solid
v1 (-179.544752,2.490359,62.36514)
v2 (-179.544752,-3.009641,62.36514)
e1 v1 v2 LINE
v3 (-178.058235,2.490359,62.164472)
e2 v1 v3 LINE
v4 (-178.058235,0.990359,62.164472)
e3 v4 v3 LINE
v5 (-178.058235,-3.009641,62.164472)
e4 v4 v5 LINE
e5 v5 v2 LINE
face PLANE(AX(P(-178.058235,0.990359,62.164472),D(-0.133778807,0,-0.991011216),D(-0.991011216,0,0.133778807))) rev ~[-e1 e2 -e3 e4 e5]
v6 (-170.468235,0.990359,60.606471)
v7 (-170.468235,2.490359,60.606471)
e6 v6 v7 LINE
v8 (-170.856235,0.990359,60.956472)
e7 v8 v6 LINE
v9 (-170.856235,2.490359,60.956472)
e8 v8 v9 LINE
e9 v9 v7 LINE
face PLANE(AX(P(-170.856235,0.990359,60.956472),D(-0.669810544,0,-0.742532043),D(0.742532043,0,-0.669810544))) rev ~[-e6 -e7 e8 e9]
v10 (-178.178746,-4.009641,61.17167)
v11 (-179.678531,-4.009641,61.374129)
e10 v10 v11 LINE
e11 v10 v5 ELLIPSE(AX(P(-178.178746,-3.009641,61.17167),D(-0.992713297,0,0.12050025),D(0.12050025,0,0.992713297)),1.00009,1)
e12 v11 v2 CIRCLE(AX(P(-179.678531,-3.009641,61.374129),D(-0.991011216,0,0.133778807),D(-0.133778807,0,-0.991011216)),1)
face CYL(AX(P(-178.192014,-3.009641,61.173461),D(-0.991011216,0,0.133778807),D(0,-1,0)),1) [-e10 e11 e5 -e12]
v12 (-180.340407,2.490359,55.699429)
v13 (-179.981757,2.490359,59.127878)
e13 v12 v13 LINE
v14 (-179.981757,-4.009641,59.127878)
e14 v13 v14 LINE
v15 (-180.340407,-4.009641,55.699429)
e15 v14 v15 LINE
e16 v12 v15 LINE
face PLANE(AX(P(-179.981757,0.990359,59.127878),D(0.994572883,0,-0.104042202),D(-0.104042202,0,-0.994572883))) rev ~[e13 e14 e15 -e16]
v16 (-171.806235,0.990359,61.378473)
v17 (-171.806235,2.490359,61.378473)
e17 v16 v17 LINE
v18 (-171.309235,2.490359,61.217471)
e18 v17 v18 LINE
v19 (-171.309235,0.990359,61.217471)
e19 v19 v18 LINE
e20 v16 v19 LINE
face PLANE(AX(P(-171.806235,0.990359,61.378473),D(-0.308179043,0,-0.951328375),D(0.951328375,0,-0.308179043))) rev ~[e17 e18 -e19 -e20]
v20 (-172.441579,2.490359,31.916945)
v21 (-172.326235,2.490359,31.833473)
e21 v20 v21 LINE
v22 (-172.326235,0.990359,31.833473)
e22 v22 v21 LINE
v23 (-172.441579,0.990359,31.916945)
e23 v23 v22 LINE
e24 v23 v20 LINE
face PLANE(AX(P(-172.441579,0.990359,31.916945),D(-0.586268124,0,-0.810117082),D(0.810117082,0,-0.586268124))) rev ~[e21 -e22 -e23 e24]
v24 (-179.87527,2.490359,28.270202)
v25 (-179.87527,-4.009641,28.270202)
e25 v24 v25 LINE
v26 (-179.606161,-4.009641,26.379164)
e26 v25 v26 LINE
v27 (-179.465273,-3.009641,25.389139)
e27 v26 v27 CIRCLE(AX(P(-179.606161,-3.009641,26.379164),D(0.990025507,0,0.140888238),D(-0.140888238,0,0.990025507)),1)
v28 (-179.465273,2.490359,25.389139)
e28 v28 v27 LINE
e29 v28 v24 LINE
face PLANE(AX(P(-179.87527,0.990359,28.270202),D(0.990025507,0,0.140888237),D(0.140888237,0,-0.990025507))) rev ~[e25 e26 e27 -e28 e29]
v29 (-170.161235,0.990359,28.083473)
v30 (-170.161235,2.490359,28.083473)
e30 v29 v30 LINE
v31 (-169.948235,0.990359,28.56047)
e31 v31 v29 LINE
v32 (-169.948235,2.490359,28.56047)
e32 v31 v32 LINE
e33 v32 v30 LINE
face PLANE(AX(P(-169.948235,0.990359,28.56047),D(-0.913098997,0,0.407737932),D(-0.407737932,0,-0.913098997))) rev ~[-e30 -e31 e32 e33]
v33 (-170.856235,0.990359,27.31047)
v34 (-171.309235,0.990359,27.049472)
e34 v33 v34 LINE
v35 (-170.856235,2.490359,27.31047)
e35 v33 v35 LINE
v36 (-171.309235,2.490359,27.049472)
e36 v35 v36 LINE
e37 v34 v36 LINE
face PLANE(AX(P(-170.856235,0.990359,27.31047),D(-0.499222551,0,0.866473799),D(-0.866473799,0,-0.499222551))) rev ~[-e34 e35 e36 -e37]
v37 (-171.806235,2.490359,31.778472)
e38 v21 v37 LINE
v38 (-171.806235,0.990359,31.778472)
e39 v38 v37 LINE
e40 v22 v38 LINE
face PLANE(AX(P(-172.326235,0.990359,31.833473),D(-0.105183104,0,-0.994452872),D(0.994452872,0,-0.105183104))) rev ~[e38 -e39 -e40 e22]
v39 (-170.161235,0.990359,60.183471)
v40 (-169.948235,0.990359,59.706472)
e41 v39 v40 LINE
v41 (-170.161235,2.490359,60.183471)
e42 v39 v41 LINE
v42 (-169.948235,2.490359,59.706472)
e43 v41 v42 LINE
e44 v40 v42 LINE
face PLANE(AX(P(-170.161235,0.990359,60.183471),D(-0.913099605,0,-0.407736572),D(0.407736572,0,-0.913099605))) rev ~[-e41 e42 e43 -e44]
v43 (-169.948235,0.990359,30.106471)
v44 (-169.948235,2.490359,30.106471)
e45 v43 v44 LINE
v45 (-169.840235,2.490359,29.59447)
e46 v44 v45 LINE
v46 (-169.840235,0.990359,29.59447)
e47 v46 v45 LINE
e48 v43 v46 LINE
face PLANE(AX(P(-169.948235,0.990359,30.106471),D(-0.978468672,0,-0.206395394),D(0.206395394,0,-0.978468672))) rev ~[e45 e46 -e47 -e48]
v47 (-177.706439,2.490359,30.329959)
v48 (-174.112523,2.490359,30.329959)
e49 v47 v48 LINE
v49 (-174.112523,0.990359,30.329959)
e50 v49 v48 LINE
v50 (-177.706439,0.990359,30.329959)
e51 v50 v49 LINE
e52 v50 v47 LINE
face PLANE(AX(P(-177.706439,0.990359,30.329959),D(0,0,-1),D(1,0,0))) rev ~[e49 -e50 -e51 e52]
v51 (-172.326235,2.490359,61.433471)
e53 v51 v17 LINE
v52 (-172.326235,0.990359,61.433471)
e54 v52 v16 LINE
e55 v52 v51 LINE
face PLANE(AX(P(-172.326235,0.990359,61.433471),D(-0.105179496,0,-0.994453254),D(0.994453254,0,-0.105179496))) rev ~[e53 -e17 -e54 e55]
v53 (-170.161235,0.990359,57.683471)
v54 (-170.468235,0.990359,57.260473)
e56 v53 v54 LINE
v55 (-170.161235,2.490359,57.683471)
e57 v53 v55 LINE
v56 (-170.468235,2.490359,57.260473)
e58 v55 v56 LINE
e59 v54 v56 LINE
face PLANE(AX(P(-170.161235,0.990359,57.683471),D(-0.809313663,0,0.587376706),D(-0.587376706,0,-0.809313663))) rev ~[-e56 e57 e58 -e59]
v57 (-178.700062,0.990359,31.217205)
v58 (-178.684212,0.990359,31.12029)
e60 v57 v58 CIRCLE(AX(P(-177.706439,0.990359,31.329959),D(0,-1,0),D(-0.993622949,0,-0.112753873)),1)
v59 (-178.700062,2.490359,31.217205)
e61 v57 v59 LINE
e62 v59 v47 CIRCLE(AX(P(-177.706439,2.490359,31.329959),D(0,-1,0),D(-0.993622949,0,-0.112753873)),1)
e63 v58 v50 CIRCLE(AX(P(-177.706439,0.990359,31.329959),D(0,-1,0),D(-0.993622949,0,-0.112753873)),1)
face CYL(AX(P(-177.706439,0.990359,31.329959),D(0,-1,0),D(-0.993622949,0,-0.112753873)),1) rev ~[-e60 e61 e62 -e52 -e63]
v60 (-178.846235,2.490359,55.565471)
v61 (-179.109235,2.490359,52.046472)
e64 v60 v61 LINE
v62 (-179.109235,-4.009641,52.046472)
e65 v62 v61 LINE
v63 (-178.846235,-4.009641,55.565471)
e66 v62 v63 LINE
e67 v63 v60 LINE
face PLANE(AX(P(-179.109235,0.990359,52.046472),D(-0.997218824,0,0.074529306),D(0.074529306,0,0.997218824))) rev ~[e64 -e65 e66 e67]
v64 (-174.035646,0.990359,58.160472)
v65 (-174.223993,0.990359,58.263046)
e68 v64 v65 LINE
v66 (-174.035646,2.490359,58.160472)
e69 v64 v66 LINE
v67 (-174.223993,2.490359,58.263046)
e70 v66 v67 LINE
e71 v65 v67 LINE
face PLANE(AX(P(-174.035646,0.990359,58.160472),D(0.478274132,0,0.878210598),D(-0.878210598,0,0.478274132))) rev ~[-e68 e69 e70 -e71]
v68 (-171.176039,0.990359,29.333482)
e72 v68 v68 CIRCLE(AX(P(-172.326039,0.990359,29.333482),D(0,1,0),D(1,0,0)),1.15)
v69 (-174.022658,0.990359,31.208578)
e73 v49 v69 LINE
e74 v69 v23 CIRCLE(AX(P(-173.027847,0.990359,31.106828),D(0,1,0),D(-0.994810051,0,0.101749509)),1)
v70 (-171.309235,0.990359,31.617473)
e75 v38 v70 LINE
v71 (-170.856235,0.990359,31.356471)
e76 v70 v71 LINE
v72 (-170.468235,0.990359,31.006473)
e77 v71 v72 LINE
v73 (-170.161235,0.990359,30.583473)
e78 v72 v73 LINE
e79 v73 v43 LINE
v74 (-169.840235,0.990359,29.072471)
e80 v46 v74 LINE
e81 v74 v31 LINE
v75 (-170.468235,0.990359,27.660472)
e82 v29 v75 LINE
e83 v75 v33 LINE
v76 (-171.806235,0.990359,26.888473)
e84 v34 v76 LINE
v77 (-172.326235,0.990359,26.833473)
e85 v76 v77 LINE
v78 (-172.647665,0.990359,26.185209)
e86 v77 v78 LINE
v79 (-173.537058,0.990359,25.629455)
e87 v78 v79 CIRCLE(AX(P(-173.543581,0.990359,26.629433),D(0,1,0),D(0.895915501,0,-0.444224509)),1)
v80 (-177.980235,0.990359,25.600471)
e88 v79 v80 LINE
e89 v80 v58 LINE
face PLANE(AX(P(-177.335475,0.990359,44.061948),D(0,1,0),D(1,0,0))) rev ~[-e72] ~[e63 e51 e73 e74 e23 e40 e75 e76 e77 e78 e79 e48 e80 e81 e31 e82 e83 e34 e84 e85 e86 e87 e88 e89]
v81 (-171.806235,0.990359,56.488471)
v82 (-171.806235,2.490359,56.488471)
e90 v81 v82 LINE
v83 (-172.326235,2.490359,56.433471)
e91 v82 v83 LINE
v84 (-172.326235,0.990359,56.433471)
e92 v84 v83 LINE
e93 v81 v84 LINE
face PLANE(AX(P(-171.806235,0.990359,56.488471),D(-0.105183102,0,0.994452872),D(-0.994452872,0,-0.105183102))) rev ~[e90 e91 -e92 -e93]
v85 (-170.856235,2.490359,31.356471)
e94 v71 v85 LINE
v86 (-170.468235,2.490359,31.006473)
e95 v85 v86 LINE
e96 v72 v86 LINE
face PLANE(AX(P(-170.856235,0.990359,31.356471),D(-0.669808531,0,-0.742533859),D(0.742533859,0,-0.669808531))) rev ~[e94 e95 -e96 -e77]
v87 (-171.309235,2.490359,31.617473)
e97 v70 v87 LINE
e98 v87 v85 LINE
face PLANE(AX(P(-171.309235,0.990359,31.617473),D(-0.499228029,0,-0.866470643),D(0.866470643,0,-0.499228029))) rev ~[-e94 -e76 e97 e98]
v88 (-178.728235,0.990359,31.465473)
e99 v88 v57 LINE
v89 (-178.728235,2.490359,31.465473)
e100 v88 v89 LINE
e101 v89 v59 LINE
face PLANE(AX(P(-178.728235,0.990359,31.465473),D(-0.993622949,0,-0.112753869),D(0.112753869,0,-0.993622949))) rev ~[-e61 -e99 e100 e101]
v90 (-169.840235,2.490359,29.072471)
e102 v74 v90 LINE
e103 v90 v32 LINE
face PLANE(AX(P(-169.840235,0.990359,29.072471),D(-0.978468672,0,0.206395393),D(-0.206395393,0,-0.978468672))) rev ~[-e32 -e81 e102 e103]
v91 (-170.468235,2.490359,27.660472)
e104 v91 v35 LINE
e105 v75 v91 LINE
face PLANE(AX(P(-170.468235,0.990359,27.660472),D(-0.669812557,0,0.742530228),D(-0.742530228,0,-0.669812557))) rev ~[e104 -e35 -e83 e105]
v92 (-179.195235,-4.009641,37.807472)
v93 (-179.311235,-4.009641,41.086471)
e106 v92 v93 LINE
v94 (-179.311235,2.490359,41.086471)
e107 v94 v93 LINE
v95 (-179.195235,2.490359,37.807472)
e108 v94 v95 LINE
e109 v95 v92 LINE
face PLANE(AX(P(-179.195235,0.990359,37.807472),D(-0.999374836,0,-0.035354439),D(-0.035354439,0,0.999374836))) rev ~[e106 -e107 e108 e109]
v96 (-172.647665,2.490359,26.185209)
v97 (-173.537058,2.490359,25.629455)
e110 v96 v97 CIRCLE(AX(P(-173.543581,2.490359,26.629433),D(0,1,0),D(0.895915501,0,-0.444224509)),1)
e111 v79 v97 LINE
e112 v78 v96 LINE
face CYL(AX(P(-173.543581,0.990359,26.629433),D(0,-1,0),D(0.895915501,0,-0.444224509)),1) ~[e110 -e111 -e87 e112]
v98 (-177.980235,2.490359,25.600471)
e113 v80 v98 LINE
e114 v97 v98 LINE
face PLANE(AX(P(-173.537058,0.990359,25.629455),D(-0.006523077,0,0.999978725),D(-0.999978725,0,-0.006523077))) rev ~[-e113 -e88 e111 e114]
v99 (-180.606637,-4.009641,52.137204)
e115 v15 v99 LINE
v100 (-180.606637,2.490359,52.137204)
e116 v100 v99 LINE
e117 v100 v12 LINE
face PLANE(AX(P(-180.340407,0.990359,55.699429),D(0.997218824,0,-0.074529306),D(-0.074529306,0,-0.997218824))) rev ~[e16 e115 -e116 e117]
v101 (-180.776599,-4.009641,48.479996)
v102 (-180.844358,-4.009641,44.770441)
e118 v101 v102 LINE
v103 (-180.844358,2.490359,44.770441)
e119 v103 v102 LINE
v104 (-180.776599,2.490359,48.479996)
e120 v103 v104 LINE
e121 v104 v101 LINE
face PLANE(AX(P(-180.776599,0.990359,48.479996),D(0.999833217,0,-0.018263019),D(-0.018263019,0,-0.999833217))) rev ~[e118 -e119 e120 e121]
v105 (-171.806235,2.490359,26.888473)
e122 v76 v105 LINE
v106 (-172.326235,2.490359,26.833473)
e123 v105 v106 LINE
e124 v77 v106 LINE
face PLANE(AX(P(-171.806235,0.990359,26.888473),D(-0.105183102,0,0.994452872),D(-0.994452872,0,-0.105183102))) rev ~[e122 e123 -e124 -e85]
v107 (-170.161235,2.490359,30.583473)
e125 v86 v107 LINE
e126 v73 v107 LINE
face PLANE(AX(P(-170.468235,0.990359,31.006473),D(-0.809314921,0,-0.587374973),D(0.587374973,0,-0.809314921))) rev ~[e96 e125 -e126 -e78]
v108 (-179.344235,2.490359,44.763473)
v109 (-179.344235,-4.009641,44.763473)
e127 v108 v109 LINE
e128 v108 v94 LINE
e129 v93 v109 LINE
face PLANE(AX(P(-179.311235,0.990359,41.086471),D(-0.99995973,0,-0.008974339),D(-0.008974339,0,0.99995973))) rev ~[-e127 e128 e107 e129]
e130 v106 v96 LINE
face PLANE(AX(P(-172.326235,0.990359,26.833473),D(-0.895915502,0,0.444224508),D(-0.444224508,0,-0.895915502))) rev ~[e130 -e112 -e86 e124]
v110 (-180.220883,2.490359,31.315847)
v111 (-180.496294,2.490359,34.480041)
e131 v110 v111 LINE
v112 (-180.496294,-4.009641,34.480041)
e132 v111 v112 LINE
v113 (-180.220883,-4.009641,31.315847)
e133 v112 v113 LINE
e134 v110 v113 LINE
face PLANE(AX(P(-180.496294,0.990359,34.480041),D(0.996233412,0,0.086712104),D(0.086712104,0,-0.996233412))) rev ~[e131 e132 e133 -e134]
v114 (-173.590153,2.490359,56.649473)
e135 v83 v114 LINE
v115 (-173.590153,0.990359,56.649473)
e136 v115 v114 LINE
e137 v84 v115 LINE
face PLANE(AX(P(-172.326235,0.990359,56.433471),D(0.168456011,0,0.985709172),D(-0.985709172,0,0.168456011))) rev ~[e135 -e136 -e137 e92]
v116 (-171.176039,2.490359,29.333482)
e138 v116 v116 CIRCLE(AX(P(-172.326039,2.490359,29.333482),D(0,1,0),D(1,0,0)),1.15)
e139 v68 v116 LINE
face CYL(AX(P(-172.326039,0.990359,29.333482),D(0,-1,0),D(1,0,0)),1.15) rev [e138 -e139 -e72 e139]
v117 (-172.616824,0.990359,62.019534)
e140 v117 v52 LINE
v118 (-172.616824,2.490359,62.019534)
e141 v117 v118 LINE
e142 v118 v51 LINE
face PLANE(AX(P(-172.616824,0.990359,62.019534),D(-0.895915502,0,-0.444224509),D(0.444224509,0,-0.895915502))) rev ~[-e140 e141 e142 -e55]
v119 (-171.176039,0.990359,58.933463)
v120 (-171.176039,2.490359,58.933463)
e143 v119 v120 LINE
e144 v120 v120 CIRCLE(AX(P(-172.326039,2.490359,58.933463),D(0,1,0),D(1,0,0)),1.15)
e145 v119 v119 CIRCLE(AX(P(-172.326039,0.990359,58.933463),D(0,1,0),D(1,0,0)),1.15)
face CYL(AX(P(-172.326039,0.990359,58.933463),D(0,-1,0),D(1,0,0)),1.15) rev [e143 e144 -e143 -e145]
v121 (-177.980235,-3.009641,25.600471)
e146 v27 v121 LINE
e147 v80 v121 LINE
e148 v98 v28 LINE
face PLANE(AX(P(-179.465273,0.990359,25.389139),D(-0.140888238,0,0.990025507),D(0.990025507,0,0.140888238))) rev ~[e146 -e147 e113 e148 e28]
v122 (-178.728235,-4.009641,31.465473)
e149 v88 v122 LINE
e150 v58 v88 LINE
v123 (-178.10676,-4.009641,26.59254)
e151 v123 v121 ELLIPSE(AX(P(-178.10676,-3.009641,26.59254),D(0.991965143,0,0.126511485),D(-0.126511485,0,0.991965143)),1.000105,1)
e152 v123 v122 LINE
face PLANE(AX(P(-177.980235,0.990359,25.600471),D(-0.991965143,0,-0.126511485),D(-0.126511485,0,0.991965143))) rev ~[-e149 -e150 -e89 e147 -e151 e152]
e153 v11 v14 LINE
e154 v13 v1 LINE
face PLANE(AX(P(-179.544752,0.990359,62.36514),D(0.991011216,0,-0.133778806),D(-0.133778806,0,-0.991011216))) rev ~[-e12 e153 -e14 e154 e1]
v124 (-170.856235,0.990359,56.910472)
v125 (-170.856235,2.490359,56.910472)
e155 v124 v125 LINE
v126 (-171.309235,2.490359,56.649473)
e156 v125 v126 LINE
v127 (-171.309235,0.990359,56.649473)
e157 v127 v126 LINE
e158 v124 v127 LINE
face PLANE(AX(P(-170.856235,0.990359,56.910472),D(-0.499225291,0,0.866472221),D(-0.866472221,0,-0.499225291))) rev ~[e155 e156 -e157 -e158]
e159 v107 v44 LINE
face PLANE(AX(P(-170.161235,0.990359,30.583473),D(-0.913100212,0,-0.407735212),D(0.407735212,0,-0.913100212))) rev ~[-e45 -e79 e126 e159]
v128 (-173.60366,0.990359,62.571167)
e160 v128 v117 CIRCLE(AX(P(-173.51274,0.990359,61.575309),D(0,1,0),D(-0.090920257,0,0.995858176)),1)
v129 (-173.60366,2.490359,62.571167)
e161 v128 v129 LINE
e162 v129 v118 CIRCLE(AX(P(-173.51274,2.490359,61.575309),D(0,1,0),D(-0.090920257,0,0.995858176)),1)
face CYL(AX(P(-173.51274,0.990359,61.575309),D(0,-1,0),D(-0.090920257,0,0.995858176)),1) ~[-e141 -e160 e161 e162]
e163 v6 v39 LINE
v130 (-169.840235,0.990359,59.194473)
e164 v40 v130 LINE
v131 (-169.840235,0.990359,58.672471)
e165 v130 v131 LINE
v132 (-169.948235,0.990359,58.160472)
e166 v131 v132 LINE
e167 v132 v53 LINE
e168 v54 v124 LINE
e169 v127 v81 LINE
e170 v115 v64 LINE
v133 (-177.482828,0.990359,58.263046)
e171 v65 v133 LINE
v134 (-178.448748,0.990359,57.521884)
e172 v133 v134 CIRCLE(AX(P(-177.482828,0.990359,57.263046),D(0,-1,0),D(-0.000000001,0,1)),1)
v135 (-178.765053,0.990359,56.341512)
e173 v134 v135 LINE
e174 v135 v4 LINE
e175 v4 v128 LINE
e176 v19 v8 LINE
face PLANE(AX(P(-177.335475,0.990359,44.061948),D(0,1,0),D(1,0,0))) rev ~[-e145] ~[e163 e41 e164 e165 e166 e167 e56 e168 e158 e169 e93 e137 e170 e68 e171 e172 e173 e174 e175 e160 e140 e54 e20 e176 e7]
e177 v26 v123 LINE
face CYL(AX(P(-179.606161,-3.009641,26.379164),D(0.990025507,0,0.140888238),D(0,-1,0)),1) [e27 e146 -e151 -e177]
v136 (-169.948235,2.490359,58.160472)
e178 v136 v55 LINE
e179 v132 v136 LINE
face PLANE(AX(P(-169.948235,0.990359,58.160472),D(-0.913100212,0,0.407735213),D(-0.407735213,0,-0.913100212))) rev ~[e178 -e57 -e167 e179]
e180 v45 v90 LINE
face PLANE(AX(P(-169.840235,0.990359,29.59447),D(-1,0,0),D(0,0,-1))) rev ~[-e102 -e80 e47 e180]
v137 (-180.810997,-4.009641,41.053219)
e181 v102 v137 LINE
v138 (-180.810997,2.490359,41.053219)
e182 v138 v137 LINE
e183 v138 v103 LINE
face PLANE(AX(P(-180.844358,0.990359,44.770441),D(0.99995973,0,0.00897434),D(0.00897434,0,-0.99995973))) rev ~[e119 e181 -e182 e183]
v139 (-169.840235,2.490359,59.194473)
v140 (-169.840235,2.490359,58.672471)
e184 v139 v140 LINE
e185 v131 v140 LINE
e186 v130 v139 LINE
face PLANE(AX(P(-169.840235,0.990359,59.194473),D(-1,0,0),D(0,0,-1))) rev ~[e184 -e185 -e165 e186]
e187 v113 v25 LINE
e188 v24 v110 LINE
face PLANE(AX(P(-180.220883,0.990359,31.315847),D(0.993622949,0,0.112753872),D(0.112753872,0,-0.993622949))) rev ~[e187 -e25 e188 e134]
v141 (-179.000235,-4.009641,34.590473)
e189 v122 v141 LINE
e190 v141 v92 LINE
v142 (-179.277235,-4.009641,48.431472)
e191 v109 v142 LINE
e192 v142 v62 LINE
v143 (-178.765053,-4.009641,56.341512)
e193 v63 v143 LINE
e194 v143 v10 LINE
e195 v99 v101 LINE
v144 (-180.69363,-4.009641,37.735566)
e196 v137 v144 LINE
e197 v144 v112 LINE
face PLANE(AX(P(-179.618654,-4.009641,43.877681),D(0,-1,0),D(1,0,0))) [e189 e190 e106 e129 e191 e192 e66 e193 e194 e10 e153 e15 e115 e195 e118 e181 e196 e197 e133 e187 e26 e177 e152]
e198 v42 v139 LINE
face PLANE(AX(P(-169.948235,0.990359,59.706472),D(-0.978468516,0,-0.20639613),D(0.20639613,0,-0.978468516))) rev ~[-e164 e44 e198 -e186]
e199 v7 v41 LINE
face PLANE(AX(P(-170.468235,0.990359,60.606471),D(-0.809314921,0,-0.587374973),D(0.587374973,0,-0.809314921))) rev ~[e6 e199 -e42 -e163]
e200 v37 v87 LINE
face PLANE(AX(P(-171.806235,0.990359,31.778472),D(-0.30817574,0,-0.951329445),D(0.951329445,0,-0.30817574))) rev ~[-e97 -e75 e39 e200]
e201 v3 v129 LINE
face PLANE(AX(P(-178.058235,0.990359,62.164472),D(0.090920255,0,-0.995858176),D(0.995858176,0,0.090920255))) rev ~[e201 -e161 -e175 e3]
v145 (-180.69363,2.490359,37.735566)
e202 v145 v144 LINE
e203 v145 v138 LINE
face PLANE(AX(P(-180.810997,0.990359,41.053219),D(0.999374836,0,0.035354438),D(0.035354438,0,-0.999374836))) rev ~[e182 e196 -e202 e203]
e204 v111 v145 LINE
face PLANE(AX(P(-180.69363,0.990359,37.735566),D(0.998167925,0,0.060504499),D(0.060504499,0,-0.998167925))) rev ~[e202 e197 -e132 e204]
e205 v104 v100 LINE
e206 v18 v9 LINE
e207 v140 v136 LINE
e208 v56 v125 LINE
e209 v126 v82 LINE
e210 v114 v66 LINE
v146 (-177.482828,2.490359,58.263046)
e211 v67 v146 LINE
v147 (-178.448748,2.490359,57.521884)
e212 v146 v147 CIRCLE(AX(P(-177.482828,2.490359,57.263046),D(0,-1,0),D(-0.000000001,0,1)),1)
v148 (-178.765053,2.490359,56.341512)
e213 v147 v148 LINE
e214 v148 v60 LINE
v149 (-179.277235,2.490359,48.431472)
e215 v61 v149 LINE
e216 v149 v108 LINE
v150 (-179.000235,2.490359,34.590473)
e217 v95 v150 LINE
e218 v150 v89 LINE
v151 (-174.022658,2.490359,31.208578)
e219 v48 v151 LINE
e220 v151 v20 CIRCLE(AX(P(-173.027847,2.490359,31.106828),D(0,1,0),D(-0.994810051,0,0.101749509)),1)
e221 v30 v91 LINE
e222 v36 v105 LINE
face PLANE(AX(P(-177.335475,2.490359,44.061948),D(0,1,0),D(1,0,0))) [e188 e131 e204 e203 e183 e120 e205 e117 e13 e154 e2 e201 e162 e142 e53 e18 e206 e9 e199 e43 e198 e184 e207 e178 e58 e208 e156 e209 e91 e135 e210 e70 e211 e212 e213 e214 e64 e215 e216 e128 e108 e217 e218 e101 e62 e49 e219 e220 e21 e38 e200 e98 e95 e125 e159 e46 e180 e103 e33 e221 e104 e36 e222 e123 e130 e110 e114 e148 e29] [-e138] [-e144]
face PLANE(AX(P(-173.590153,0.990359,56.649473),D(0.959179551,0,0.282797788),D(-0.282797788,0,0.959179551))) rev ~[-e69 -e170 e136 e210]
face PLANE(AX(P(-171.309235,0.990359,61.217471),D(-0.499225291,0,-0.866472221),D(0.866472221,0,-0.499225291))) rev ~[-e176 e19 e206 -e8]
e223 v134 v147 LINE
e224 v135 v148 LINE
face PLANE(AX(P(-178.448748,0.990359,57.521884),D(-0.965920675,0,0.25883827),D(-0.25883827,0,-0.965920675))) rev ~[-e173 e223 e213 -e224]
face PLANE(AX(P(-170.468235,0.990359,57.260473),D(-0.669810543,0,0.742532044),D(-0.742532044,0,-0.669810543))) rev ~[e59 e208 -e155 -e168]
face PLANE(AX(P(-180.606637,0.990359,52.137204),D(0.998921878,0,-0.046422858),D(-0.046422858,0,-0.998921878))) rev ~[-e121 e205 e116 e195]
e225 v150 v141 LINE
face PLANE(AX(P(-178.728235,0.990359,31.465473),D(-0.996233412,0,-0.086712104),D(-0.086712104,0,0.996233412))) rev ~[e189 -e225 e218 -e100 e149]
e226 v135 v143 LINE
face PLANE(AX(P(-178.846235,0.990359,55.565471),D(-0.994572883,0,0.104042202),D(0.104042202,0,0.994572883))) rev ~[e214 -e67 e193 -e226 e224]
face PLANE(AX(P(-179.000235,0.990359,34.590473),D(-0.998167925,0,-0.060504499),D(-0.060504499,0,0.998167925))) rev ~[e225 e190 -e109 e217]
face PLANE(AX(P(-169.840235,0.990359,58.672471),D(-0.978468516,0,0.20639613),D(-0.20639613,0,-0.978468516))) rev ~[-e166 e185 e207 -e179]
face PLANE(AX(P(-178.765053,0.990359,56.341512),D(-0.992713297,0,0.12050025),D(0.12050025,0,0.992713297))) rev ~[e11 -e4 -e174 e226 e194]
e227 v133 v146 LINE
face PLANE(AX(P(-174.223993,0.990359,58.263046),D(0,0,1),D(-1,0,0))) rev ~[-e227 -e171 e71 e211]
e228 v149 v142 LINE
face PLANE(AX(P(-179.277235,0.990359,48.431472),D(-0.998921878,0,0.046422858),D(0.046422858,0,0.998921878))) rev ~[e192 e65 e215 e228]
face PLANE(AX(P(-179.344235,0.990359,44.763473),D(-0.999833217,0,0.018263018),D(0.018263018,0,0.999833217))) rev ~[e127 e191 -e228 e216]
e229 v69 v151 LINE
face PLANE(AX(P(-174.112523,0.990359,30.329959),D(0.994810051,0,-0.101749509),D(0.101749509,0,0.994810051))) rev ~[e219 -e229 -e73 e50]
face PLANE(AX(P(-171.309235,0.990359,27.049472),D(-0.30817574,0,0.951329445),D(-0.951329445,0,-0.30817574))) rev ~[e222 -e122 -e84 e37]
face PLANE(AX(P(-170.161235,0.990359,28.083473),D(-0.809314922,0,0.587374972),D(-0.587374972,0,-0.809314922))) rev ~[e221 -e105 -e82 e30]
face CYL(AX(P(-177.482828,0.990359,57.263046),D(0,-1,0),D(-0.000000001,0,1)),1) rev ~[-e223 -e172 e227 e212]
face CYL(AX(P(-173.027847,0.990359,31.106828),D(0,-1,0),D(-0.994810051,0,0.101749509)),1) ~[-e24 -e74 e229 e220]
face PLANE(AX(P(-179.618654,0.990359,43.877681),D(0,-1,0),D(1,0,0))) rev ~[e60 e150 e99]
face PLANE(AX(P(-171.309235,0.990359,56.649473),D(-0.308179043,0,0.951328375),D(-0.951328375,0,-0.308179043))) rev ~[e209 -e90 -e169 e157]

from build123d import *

# Parameters (mm, degrees)
SZKIC2_R                    = 1.15000024
DODANIE_WYCI_GNI_CIE1_DEPTH = 1.5
DODANIE_WYCI_GNI_CIE2_DEPTH = 5
ZAOKR_GLENIE1_R             = 1


with BuildPart() as part:
    # Szkic2 → Dodanie-wyciągnięcie1 (new body)
    with BuildSketch(Plane(origin=(0, 0.9903587, 0), x_dir=(1, 0, 0), z_dir=(0, 1, 0))):
        with BuildLine():
            Line((-173.537057861, -25.629454659), (-177.980234802, -25.600470859))
            Line((-177.980234802, -25.600470859), (-179.465273063, -25.389138502))
            Line((-179.465273063, -25.389138502), (-179.875270484, -28.27020162))
            Line((-179.875270484, -28.27020162), (-180.220882829, -31.315847433))
            Line((-180.220882829, -31.315847433), (-180.496294073, -34.480041019))
            Line((-180.496294073, -34.480041019), (-180.693629515, -37.735565991))
            Line((-180.693629515, -37.735565991), (-180.810996631, -41.053218548))
            Line((-180.810996631, -41.053218548), (-180.844357588, -44.770440674))
            Line((-180.844357588, -44.770440674), (-180.776598606, -48.479996177))
            Line((-180.776598606, -48.479996177), (-180.606637328, -52.137204019))
            Line((-180.606637328, -52.137204019), (-180.340406733, -55.699429047))
            Line((-180.340406733, -55.699429047), (-179.981756968, -59.127877551))
            Line((-179.981756968, -59.127877551), (-179.544751696, -62.365140152))
            Line((-179.544751696, -62.365140152), (-178.058234871, -62.164471942))
            Line((-178.058234871, -62.164471942), (-173.603659928, -62.571167494))
            ThreePointArc((-173.603659928, -62.571167494), (-173.024806006, -62.44819003), (-172.616824171, -62.019533826))
            Line((-172.616824171, -62.019533826), (-172.326234878, -61.433471042))
            Line((-172.326234878, -61.433471042), (-171.806234897, -61.378472644))
            Line((-171.806234897, -61.378472644), (-171.309234799, -61.217471439))
            Line((-171.309234799, -61.217471439), (-170.856234968, -60.956471759))
            Line((-170.856234968, -60.956471759), (-170.468234957, -60.606471377))
            Line((-170.468234957, -60.606471377), (-170.161234797, -60.183471042))
            Line((-170.161234797, -60.183471042), (-169.948234976, -59.706471759))
            Line((-169.948234976, -59.706471759), (-169.840234936, -59.194472629))
            Line((-169.840234936, -59.194472629), (-169.840234936, -58.672471362))
            Line((-169.840234936, -58.672471362), (-169.948234976, -58.160472232))
            Line((-169.948234976, -58.160472232), (-170.161234797, -57.683471042))
            Line((-170.161234797, -57.683471042), (-170.468234957, -57.260472613))
            Line((-170.468234957, -57.260472613), (-170.856234968, -56.910472232))
            Line((-170.856234968, -56.910472232), (-171.309234799, -56.649472552))
            Line((-171.309234799, -56.649472552), (-171.806234897, -56.488471347))
            Line((-171.806234897, -56.488471347), (-172.326234878, -56.433471042))
            Line((-172.326234878, -56.433471042), (-173.590153384, -56.649472552))
            Line((-173.590153384, -56.649472552), (-174.035645958, -58.160472232))
            Line((-174.035645958, -58.160472232), (-174.223992711, -58.263046011))
            Line((-174.223992711, -58.263046011), (-177.48282769, -58.263046011))
            ThreePointArc((-177.48282769, -58.263046011), (-178.091581224, -58.056405409), (-178.448748365, -57.52188428))
            Line((-178.448748365, -57.52188428), (-178.765053408, -56.341511761))
            Line((-178.765053408, -56.341511761), (-178.846234978, -55.565471011))
            Line((-178.846234978, -55.565471011), (-179.109234989, -52.046471912))
            Line((-179.109234989, -52.046471912), (-179.277234734, -48.43147214))
            Line((-179.277234734, -48.43147214), (-179.344234646, -44.763472873))
            Line((-179.344234646, -44.763472873), (-179.311234654, -41.08647092))
            Line((-179.311234654, -41.08647092), (-179.195234955, -37.807471591))
            Line((-179.195234955, -37.807471591), (-179.000234783, -34.590472537))
            Line((-179.000234783, -34.590472537), (-178.728234947, -31.465472537))
            Line((-178.728234947, -31.465472537), (-178.700062197, -31.217205306))
            ThreePointArc((-178.700062197, -31.217205306), (-178.372489594, -30.58405239), (-177.706439248, -30.329959177))
            Line((-177.706439248, -30.329959177), (-174.112522963, -30.329959177))
            Line((-174.112522963, -30.329959177), (-174.022657546, -31.208577866))
            ThreePointArc((-174.022657546, -31.208577866), (-173.436715177, -32.019422034), (-172.441579371, -31.91694544))
            Line((-172.441579371, -31.91694544), (-172.326234878, -31.833472568))
            Line((-172.326234878, -31.833472568), (-171.806234897, -31.778472262))
            Line((-171.806234897, -31.778472262), (-171.309234799, -31.617472964))
            Line((-171.309234799, -31.617472964), (-170.856234968, -31.356471377))
            Line((-170.856234968, -31.356471377), (-170.468234957, -31.006472903))
            Line((-170.468234957, -31.006472903), (-170.161234797, -30.583472568))
            Line((-170.161234797, -30.583472568), (-169.948234976, -30.106471377))
            Line((-169.948234976, -30.106471377), (-169.840234936, -29.59447034))
            Line((-169.840234936, -29.59447034), (-169.840234936, -29.072470981))
            Line((-169.840234936, -29.072470981), (-169.948234976, -28.560469943))
            Line((-169.948234976, -28.560469943), (-170.161234797, -28.083472568))
            Line((-170.161234797, -28.083472568), (-170.468234957, -27.660472232))
            Line((-170.468234957, -27.660472232), (-170.856234968, -27.310469943))
            Line((-170.856234968, -27.310469943), (-171.309234799, -27.049472171))
            Line((-171.309234799, -27.049472171), (-171.806234897, -26.888472873))
            Line((-171.806234897, -26.888472873), (-172.326234878, -26.833472568))
            Line((-172.326234878, -26.833472568), (-172.647665436, -26.185208875))
            ThreePointArc((-172.647665436, -26.185208875), (-173.013661572, -25.781385351), (-173.537057861, -25.629454659))
        make_face()
        with Locations((-172.326039002, -29.333481885)):
            Circle(SZKIC2_R, mode=Mode.SUBTRACT)
        with Locations((-172.326039002, -58.933463325)):
            Circle(SZKIC2_R, mode=Mode.SUBTRACT)
    extrude(amount=DODANIE_WYCI_GNI_CIE1_DEPTH)

    # Szkic3 → Dodanie-wyciągnięcie2 (add)
    with BuildSketch(Plane.XZ.offset(-0.9903587)):
        Polygon((-178.765053408, 56.341511761), (-178.058234871, 62.164471942), (-179.544751696, 62.365140152), (-179.981756968, 59.127877551), (-180.340406733, 55.699429047), (-180.606637328, 52.137204019), (-180.776598606, 48.479996177), (-180.844357588, 44.770440674), (-180.810996631, 41.053218548), (-180.693629515, 37.735565991), (-180.496294073, 34.480041019), (-180.220882829, 31.315847433), (-179.875270484, 28.27020162), (-179.465273063, 25.389138502), (-177.980234802, 25.600470859), (-178.728234947, 31.465472537), (-179.000234783, 34.590472537), (-179.195234955, 37.807471591), (-179.311234654, 41.08647092), (-179.344234646, 44.763472873), (-179.277234734, 48.43147214), (-179.109234989, 52.046471912), (-178.846234978, 55.565471011), align=None)
    extrude(amount=DODANIE_WYCI_GNI_CIE2_DEPTH)

    # Zaokrąglenie1
    zaokr_glenie1_edges = [part.edges().sort_by_distance(p)[0] for p in [
        (-178.722753933, -4.0096413, 25.49480468),
        (-178.801493283, -4.0096413, 62.264806047),
    ]]
    fillet(zaokr_glenie1_edges, radius=ZAOKR_GLENIE1_R)


solid = part.part
